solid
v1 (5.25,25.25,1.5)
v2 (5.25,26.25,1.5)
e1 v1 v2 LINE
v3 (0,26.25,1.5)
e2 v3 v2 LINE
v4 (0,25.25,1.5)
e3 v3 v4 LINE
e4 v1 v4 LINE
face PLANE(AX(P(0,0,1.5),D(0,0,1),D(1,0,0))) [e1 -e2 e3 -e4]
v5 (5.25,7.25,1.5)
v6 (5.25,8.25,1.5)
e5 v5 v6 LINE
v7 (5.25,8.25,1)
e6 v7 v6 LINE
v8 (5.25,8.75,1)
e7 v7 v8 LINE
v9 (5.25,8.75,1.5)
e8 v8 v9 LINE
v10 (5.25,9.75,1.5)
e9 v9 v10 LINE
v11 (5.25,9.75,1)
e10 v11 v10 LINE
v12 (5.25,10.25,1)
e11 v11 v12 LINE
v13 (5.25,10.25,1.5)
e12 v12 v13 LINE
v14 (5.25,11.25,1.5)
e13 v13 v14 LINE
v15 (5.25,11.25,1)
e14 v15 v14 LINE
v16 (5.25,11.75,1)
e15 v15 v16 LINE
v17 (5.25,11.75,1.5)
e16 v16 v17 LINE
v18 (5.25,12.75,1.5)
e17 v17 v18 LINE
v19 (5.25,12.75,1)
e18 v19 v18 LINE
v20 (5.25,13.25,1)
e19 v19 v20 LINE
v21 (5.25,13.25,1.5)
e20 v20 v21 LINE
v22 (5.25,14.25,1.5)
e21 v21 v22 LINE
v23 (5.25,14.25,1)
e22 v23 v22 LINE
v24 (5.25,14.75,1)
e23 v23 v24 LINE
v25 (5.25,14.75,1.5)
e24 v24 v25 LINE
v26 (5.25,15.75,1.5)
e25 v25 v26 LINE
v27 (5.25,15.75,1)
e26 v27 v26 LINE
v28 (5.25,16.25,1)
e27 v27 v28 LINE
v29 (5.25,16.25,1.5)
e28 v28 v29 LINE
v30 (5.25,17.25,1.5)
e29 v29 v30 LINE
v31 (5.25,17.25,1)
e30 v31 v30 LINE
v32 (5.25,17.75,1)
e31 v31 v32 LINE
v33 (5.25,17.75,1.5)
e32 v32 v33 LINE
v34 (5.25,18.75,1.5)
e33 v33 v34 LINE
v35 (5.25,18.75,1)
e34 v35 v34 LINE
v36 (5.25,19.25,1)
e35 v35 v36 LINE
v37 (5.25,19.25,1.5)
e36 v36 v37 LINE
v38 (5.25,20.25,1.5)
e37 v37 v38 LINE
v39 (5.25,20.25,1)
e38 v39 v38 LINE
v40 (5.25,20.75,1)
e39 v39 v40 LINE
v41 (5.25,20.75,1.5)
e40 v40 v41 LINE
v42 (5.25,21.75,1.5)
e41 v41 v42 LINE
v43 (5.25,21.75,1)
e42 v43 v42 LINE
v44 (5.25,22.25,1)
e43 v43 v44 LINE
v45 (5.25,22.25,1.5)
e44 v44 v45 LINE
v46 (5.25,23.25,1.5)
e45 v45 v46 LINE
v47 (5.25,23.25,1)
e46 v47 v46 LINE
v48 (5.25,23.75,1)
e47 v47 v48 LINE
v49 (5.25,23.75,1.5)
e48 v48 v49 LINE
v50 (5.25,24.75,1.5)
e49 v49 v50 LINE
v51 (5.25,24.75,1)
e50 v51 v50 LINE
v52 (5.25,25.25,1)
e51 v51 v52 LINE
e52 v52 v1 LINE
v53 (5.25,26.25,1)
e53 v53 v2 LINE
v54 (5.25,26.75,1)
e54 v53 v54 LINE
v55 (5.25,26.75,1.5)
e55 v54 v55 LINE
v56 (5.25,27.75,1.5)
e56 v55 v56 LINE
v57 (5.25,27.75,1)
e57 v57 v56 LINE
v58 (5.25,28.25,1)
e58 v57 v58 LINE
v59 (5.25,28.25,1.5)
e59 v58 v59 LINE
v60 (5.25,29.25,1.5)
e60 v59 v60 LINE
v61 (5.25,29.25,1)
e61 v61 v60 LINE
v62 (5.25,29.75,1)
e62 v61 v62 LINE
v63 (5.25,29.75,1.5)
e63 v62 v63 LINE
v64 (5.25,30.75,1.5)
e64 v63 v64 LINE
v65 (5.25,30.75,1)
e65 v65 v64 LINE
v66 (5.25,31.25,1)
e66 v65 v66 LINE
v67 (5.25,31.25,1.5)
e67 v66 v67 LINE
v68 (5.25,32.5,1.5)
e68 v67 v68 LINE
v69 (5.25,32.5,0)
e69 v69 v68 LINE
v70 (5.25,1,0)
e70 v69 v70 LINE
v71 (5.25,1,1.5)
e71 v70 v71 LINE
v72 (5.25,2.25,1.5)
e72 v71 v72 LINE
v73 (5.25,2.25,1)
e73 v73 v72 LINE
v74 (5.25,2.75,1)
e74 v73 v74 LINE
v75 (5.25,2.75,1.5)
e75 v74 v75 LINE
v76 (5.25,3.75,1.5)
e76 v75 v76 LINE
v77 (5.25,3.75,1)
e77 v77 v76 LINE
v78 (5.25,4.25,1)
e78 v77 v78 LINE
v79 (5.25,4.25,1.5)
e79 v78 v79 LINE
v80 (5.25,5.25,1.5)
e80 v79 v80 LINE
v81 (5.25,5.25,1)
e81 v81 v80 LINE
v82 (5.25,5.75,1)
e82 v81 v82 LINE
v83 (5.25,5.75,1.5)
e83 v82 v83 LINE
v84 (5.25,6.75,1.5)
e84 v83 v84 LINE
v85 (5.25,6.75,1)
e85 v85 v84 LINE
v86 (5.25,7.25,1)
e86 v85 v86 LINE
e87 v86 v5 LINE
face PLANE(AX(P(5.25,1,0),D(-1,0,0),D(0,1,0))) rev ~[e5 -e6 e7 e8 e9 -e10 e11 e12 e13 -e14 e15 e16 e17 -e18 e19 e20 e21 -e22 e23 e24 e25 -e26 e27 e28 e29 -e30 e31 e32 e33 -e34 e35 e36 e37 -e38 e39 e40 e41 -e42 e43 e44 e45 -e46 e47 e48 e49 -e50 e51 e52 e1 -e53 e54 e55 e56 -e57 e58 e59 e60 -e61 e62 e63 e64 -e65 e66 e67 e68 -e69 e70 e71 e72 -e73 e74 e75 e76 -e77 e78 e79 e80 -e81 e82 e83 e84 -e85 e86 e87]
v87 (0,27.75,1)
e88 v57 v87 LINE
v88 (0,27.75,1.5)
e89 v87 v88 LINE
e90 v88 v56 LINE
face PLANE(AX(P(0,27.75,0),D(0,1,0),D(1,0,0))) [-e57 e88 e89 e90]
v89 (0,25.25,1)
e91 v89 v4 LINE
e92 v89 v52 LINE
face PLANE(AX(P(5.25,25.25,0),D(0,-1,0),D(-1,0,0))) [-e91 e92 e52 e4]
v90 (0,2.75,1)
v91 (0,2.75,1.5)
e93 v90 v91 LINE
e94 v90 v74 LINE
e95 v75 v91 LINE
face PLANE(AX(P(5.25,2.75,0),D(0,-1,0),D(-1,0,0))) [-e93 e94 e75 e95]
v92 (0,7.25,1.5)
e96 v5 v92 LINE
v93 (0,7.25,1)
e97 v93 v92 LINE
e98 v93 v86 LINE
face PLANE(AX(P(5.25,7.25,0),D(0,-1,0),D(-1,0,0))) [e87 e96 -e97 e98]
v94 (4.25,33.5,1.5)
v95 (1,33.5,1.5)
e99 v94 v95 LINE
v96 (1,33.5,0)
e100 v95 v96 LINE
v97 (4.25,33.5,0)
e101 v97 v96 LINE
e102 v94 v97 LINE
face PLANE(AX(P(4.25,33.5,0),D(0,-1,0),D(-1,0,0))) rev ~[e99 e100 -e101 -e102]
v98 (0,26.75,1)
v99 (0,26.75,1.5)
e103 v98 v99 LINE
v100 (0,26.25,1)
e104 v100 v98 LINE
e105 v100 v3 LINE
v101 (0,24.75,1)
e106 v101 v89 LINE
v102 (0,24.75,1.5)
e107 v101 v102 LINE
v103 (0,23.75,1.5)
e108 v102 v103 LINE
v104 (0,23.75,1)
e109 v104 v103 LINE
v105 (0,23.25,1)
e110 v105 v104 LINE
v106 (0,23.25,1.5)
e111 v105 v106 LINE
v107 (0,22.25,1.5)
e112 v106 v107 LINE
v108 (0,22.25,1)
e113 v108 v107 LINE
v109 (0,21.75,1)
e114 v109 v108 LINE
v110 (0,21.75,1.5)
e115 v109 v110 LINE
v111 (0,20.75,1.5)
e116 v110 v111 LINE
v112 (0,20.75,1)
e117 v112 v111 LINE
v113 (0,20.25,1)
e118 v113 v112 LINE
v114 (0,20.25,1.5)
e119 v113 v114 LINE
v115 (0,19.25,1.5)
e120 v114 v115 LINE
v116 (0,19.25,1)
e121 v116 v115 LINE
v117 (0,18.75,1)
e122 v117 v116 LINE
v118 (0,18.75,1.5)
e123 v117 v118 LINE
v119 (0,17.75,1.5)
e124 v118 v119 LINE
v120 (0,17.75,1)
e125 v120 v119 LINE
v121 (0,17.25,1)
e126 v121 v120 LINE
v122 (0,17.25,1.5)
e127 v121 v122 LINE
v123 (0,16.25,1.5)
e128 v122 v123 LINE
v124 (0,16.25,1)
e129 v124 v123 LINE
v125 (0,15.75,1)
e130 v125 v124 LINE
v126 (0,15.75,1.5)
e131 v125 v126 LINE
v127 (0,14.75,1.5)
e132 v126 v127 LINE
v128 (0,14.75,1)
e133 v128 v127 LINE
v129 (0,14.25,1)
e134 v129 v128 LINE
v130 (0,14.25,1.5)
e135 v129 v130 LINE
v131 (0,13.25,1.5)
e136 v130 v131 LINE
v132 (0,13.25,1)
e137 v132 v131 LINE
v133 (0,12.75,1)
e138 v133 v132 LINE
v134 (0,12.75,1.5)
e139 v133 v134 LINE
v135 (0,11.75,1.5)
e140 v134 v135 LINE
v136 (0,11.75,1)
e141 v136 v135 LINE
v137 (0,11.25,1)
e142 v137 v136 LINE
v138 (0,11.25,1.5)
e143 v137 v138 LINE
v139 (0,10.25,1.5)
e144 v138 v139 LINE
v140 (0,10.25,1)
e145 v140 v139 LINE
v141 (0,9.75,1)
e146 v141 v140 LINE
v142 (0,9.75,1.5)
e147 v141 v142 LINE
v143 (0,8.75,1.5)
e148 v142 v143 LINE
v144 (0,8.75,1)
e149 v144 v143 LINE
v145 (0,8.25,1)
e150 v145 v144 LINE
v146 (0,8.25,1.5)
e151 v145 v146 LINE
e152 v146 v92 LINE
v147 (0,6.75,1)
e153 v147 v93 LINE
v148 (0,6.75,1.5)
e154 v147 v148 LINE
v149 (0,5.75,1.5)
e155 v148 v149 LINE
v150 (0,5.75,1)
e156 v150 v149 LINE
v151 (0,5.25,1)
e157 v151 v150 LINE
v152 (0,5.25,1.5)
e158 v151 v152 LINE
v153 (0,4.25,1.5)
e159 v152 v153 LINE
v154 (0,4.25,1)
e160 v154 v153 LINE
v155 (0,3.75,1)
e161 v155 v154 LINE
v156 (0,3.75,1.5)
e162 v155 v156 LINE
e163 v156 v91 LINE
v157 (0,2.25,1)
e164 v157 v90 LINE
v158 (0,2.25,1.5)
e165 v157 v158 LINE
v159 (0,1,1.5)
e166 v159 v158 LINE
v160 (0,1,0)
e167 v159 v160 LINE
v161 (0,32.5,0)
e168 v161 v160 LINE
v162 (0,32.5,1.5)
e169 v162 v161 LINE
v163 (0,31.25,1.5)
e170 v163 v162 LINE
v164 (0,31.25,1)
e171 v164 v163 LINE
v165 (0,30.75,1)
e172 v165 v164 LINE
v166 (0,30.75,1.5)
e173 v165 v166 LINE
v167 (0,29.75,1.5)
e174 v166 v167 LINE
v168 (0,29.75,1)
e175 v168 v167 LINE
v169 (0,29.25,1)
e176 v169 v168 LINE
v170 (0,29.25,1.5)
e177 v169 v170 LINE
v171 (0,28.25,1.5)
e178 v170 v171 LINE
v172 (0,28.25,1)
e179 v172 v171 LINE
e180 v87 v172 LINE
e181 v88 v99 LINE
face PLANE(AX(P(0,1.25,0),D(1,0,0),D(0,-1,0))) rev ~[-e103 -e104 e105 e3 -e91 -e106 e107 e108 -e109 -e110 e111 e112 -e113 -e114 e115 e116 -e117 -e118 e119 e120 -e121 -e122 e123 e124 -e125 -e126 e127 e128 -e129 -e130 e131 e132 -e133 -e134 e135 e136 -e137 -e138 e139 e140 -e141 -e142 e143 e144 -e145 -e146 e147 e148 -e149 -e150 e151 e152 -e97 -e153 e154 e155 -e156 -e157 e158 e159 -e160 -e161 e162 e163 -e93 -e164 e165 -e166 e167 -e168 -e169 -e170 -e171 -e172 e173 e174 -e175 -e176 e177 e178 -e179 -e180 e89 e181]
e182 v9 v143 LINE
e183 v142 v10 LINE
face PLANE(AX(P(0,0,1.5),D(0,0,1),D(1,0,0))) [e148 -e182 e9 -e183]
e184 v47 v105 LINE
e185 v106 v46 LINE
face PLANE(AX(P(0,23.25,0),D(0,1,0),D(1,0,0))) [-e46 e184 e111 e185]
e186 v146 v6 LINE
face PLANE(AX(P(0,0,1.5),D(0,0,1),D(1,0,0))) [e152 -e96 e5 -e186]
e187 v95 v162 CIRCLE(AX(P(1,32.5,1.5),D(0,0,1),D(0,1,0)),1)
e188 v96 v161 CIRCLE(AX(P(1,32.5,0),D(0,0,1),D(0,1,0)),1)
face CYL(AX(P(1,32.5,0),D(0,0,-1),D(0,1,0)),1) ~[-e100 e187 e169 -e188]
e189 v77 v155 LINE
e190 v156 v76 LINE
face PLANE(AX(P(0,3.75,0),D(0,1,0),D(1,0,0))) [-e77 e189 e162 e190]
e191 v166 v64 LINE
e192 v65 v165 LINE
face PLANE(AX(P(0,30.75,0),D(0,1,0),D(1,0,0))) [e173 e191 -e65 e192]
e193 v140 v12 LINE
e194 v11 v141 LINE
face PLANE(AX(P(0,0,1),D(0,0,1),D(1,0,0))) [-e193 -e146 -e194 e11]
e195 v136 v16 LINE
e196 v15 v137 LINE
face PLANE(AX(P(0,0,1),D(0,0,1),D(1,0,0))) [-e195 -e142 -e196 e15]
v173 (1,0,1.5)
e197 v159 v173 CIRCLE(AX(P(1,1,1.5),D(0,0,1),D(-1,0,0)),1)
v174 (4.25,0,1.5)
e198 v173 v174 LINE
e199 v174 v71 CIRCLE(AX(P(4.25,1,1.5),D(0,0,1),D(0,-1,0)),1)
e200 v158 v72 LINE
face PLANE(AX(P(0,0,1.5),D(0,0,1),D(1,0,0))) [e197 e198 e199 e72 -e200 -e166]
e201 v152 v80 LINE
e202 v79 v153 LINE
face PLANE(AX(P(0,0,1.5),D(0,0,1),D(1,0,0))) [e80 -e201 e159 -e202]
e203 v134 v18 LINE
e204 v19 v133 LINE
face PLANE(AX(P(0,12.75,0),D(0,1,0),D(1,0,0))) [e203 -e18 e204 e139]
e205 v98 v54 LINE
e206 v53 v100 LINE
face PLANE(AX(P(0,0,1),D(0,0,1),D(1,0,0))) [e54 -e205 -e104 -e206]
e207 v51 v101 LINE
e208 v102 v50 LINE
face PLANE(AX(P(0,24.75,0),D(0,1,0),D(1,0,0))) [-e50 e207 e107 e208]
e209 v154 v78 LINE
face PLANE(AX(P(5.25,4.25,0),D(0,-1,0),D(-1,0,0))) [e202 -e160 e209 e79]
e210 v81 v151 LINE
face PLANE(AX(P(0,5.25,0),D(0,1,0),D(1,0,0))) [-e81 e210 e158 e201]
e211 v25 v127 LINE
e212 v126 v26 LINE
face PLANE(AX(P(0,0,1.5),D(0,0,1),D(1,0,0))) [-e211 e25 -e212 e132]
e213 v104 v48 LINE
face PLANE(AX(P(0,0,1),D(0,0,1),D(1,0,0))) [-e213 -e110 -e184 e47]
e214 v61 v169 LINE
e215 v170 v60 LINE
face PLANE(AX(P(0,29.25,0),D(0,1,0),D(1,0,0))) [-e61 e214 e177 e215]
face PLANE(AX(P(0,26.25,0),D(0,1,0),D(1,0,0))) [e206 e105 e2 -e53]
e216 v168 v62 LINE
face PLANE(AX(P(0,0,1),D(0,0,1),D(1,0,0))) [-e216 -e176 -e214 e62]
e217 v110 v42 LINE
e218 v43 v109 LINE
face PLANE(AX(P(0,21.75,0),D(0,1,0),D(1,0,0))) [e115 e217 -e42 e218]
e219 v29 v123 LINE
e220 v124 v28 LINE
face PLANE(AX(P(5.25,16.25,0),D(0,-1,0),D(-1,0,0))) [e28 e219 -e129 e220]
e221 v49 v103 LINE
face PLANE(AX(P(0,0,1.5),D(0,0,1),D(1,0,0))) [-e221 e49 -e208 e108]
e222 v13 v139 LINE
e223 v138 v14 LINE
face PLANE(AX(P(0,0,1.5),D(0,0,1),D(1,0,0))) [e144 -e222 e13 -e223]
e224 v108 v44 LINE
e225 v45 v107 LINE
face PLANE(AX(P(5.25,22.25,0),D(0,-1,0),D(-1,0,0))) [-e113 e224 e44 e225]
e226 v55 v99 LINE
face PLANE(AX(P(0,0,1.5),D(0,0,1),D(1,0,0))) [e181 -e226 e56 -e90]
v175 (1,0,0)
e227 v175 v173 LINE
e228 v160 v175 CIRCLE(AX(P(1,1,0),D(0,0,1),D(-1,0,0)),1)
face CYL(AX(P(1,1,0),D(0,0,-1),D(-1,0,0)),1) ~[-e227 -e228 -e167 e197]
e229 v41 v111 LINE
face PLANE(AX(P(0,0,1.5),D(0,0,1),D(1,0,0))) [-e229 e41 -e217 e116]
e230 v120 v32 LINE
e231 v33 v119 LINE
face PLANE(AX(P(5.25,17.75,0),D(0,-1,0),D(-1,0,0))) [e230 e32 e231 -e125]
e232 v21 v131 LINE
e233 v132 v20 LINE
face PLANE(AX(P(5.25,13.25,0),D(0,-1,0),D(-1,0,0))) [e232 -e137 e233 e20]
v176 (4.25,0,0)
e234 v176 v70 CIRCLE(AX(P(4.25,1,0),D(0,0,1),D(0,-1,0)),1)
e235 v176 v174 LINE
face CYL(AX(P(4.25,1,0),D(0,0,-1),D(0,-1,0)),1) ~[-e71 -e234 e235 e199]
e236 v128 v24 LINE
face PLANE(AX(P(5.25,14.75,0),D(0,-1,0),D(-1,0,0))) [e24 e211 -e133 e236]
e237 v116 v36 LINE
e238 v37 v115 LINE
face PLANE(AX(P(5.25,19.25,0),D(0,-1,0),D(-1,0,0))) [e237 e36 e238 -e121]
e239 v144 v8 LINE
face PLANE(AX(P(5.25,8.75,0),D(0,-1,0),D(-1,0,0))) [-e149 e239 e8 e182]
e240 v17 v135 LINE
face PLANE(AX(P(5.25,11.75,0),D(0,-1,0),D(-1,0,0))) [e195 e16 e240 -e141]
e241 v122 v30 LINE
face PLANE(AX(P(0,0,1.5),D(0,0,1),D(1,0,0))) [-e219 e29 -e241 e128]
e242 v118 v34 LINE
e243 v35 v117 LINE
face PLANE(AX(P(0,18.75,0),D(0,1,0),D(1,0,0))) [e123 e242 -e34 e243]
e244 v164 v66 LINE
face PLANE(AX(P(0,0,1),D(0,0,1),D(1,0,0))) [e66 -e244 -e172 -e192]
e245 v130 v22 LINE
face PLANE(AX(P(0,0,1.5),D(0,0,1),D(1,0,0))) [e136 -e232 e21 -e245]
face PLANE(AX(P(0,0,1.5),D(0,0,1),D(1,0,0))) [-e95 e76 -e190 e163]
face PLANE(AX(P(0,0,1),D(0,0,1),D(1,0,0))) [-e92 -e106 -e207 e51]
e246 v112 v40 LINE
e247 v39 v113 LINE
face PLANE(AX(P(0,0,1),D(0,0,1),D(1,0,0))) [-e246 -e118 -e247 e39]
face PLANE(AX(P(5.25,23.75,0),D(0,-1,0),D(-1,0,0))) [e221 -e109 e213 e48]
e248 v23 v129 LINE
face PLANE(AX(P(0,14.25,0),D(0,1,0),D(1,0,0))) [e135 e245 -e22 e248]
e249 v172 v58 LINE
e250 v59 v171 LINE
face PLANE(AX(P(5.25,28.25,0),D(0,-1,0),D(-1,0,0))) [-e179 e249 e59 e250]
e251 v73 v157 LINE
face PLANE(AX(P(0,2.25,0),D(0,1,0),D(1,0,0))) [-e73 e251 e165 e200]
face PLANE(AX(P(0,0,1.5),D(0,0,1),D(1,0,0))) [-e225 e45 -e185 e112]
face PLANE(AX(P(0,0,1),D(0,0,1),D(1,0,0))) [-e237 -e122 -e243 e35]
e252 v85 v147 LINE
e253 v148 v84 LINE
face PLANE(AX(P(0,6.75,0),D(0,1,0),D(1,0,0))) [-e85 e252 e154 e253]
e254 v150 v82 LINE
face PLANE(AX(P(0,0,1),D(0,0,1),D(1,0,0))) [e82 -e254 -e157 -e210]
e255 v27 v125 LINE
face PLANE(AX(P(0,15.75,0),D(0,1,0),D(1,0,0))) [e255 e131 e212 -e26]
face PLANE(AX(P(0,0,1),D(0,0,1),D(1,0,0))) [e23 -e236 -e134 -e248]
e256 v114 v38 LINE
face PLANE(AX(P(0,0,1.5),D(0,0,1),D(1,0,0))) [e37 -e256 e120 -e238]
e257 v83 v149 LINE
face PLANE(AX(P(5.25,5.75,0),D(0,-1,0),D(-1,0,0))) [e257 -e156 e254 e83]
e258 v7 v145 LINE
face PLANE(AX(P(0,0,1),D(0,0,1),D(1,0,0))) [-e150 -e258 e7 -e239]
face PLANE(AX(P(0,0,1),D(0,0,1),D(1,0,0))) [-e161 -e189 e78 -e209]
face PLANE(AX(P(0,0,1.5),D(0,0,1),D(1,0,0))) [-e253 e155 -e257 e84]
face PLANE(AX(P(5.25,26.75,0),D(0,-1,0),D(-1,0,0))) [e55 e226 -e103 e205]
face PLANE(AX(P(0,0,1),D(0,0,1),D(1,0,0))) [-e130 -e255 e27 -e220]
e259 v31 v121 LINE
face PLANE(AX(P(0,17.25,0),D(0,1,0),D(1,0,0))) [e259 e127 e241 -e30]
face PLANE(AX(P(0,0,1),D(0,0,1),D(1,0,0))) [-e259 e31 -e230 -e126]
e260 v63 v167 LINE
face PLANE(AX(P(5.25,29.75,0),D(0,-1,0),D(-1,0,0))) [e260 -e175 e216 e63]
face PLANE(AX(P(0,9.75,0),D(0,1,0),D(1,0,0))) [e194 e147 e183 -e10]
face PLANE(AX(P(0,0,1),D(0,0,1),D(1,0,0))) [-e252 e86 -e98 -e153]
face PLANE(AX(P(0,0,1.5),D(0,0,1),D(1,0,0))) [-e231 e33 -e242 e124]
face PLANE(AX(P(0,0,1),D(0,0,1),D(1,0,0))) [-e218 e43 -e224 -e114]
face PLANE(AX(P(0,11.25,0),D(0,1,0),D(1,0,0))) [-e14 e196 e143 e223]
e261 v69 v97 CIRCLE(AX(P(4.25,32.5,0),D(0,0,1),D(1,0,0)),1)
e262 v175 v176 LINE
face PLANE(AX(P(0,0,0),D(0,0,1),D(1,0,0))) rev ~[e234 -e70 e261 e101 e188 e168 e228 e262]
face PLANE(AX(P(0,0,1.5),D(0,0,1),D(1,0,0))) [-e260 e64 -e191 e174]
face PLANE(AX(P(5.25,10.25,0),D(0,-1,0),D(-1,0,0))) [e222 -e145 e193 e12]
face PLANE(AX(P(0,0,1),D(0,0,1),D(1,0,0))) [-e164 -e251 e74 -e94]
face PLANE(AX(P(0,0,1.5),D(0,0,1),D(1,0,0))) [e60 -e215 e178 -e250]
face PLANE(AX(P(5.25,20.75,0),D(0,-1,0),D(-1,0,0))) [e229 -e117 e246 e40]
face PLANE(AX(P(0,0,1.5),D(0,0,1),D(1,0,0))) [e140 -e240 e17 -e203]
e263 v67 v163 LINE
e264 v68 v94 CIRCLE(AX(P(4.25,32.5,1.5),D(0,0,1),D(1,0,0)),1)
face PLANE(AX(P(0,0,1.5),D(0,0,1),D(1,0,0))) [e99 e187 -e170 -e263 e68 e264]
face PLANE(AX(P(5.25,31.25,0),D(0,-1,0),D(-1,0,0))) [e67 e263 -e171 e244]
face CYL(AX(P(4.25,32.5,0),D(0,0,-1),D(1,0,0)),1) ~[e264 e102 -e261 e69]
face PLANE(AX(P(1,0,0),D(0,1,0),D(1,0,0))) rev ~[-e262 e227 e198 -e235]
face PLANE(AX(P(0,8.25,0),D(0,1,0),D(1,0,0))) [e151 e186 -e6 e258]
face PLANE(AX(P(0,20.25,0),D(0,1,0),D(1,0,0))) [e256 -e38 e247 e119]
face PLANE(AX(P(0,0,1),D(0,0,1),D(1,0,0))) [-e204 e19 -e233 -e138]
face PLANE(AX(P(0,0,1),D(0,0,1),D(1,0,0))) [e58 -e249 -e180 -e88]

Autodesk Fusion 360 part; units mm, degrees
sketch "Sketch1" plane through (0, 0, 0) normal (0, 0, 1) x (1, 0, 0)
  line L0 (1, 0) -> (4.25, 0)
  line L1 (5.25, 1) -> (5.25, 32.5)
  line L2 (4.25, 33.5) -> (1, 33.5)
  line L3 (0, 32.5) -> (0, 1)
  arc A0 (1, 33.5) -> (0, 32.5) centre (1, 32.5) ccw
  arc A1 (5.25, 32.5) -> (4.25, 33.5) centre (4.25, 32.5) ccw
  arc A2 (4.25, 0) -> (5.25, 1) centre (4.25, 1) ccw
  arc A3 (0, 1) -> (1, 0) centre (1, 1) ccw
  line L4 (0, 1) -> (5.25, 1) construction
  line L5 (0, 32.5) -> (5.25, 32.5) construction
  line L6 (2.625, 32.5) -> (2.625, 1) construction
  line L7 (0, 32.25) -> (5.25, 32.25)
  line L8 (5.25, 32.25) -> (5.25, 31.25)
  line L9 (5.25, 31.25) -> (0, 31.25)
  line L10 (0, 31.25) -> (0, 32.25)
  line L11 (2.625, 32.5) -> (2.625, 32.25) construction
  line L12 (2.625, 1) -> (2.625, 1.42) construction
  line L13 (2.625, 31.25) -> (2.625, 30.75) construction
  line L14 (5.25, 25.25) -> (0, 25.25)
  line L15 (0, 25.25) -> (0, 26.25)
  line L16 (5.25, 26.25) -> (5.25, 25.25)
  line L17 (2.625, 25.25) -> (2.625, 24.75) construction
  line L18 (0, 26.25) -> (5.25, 26.25)
  line L19 (0, 16.25) -> (0, 17.25)
  line L20 (5.25, 17.25) -> (5.25, 16.25)
  line L21 (0, 17.25) -> (5.25, 17.25)
  line L22 (2.625, 16.25) -> (2.625, 15.75) construction
  line L23 (5.25, 16.25) -> (0, 16.25)
  line L24 (0, 7.25) -> (0, 8.25)
  line L25 (5.25, 8.25) -> (5.25, 7.25)
  line L26 (0, 8.25) -> (5.25, 8.25)
  line L27 (2.625, 7.25) -> (2.625, 6.75) construction
  line L28 (5.25, 7.25) -> (0, 7.25)
  line L29 (0, 26.75) -> (0, 27.75)
  line L30 (5.25, 27.75) -> (5.25, 26.75)
  line L31 (0, 27.75) -> (5.25, 27.75)
  line L32 (2.625, 26.75) -> (2.625, 26.25) construction
  line L33 (5.25, 26.75) -> (0, 26.75)
  line L34 (0, 22.25) -> (0, 23.25)
  line L35 (5.25, 23.25) -> (5.25, 22.25)
  line L36 (0, 23.25) -> (5.25, 23.25)
  line L37 (2.625, 22.25) -> (2.625, 21.75) construction
  line L38 (5.25, 22.25) -> (0, 22.25)
  line L39 (0, 28.25) -> (0, 29.25)
  line L40 (5.25, 29.25) -> (5.25, 28.25)
  line L41 (0, 29.25) -> (5.25, 29.25)
  line L42 (2.625, 28.25) -> (2.625, 27.75) construction
  line L43 (5.25, 28.25) -> (0, 28.25)
  line L44 (0, 13.25) -> (0, 14.25)
  line L45 (5.25, 14.25) -> (5.25, 13.25)
  line L46 (0, 14.25) -> (5.25, 14.25)
  line L47 (2.625, 13.25) -> (2.625, 12.75) construction
  line L48 (5.25, 13.25) -> (0, 13.25)
  line L49 (0, 10.25) -> (0, 11.25)
  line L50 (5.25, 11.25) -> (5.25, 10.25)
  line L51 (0, 11.25) -> (5.25, 11.25)
  line L52 (2.625, 10.25) -> (2.625, 9.75) construction
  line L53 (5.25, 10.25) -> (0, 10.25)
  line L54 (0, 11.75) -> (0, 12.75)
  line L55 (5.25, 12.75) -> (5.25, 11.75)
  line L56 (0, 12.75) -> (5.25, 12.75)
  line L57 (2.625, 11.75) -> (2.625, 11.25) construction
  line L58 (5.25, 11.75) -> (0, 11.75)
  line L59 (0, 5.75) -> (0, 6.75)
  line L60 (5.25, 6.75) -> (5.25, 5.75)
  line L61 (0, 6.75) -> (5.25, 6.75)
  line L62 (2.625, 5.75) -> (2.625, 5.25) construction
  line L63 (5.25, 5.75) -> (0, 5.75)
  line L64 (0, 17.75) -> (0, 18.75)
  line L65 (5.25, 18.75) -> (5.25, 17.75)
  line L66 (0, 18.75) -> (5.25, 18.75)
  line L67 (2.625, 17.75) -> (2.625, 17.25) construction
  line L68 (5.25, 17.75) -> (0, 17.75)
  line L69 (0, 8.75) -> (0, 9.75)
  line L70 (5.25, 9.75) -> (5.25, 8.75)
  line L71 (0, 9.75) -> (5.25, 9.75)
  line L72 (2.625, 8.75) -> (2.625, 8.25) construction
  line L73 (5.25, 8.75) -> (0, 8.75)
  line L74 (0, 29.75) -> (0, 30.75)
  line L75 (5.25, 30.75) -> (5.25, 29.75)
  line L76 (0, 30.75) -> (5.25, 30.75)
  line L77 (2.625, 29.75) -> (2.625, 29.25) construction
  line L78 (5.25, 29.75) -> (0, 29.75)
  line L79 (0, 14.75) -> (0, 15.75)
  line L80 (5.25, 15.75) -> (5.25, 14.75)
  line L81 (0, 15.75) -> (5.25, 15.75)
  line L82 (2.625, 14.75) -> (2.625, 14.25) construction
  line L83 (5.25, 14.75) -> (0, 14.75)
  line L84 (0, 19.25) -> (0, 20.25)
  line L85 (5.25, 20.25) -> (5.25, 19.25)
  line L86 (0, 20.25) -> (5.25, 20.25)
  line L87 (2.625, 19.25) -> (2.625, 18.75) construction
  line L88 (5.25, 19.25) -> (0, 19.25)
  line L89 (0, 23.75) -> (0, 24.75)
  line L90 (5.25, 24.75) -> (5.25, 23.75)
  line L91 (0, 24.75) -> (5.25, 24.75)
  line L92 (2.625, 23.75) -> (2.625, 23.25) construction
  line L93 (5.25, 23.75) -> (0, 23.75)
  line L94 (0, 20.75) -> (0, 21.75)
  line L95 (5.25, 21.75) -> (5.25, 20.75)
  line L96 (0, 21.75) -> (5.25, 21.75)
  line L97 (2.625, 20.75) -> (2.625, 20.25) construction
  line L98 (5.25, 20.75) -> (0, 20.75)
  line L99 (0, 4.25) -> (0, 5.25)
  line L100 (5.25, 5.25) -> (5.25, 4.25)
  line L101 (0, 5.25) -> (5.25, 5.25)
  line L102 (2.625, 4.25) -> (2.625, 3.75) construction
  line L103 (5.25, 4.25) -> (0, 4.25)
  line L104 (0, 2.25) -> (5.25, 2.25)
  line L105 (0, 1.25) -> (0, 2.25)
  line L106 (5.25, 1.25) -> (0, 1.25)
  line L107 (2.625, 1.25) -> (2.625, 0.75) construction
  line L108 (5.25, 2.25) -> (5.25, 1.25)
  line L109 (5.25, 2.75) -> (0, 2.75)
  line L110 (5.25, 3.75) -> (5.25, 2.75)
  line L111 (0, 3.75) -> (5.25, 3.75)
  line L112 (2.625, 2.75) -> (2.625, 2.25) construction
  line L113 (0, 2.75) -> (0, 3.75)
  line L114 (2.625, 0) -> (7.625, 0) construction
  line L115 (2.625, 33.5) -> (7.625, 33.5) construction
  line L116 (7.625, 33.5) -> (7.625, 0) construction
  line L117 (7.625, 16.75) -> (5.25, 16.75) construction
  line L118 (5.25, 16.75) -> (2.625, 16.75) construction
  point P0 (5.25, 0)
  point P1 (0, 33.5)
  dimension "d1" = 5.25
  dimension "d2" = 33.5
  dimension "d3" = 1
  dimension "d4" = 1
  dimension "d5" = 5.25
  dimension "d6" = 0.25
  dimension "d7" = 0.42
  dimension "d8" = 0.5
  dimension "d9" = 1
  dimension "d10" = 5.25
  dimension "d11" = 0.5
  dimension "d12" = 1
  dimension "d13" = 5.25
  dimension "d14" = 0.5
  dimension "d15" = 1
  dimension "d16" = 5.25
  dimension "d17" = 0.5
  dimension "d18" = 1
  dimension "d19" = 5.25
  dimension "d20" = 0.5
  dimension "d21" = 1
  dimension "d22" = 5.25
  dimension "d23" = 0.5
  dimension "d24" = 1
  dimension "d25" = 5.25
  dimension "d26" = 0.5
  dimension "d27" = 1
  dimension "d28" = 5.25
  dimension "d29" = 0.5
  dimension "d30" = 1
  dimension "d31" = 5.25
  dimension "d32" = 0.5
  dimension "d33" = 1
  dimension "d34" = 5.25
  dimension "d35" = 0.5
  dimension "d36" = 1
  dimension "d37" = 5.25
  dimension "d38" = 0.5
  dimension "d39" = 1
  dimension "d40" = 5.25
  dimension "d41" = 0.5
  dimension "d42" = 1
  dimension "d43" = 5.25
  dimension "d44" = 0.5
  dimension "d45" = 1
  dimension "d46" = 5.25
  dimension "d47" = 0.5
  dimension "d48" = 1
  dimension "d49" = 5.25
  dimension "d50" = 0.5
  dimension "d51" = 1
  dimension "d52" = 5.25
  dimension "d53" = 0.5
  dimension "d54" = 1
  dimension "d55" = 5.25
  dimension "d56" = 0.5
  dimension "d57" = 1
  dimension "d58" = 5.25
  dimension "d59" = 0.5
  dimension "d60" = 1
  dimension "d61" = 5.25
  dimension "d62" = 0.5
  dimension "d63" = 1
  dimension "d64" = 5.25
  dimension "d65" = 0.5
  dimension "d72" = 1
  dimension "d73" = 5.25
  dimension "d74" = 0.5
  dimension "d79" = 5
  dimension "d80" = 5
extrude "Extrude1" add sketch "Sketch1" along normal blind 1
extrude "Extrude2" add sketch "Sketch1" along normal blind 1.5 contours L0 L1 L3 A2 A3 L106 | L1 L3 L104 L105 L106 L108 | L1 L3 L109 L110 L111 L113 | L1 L3 L99 L100 L101 L103 | L1 L3 L59 L60 L61 L63 | L1 L3 L24 L25 L26 L28 | L1 L3 L69 L70 L71 L73 | L1 L3 L49 L50 L51 L53 | L1 L3 L54 L55 L56 L58 | L1 L3 L44 L45 L46 L48 | L1 L3 L79 L80 L81 L83 | L1 L3 L19 L20 L21 L23 | L1 L3 L64 L65 L66 L68 | L1 L3 L84 L85 L86 L88 | L1 L3 L94 L95 L96 L98 | L1 L3 L34 L35 L36 L38 | L1 L3 L89 L90 L91 L93 | L1 L3 L14 L15 L16 L18 | L1 L3 L29 L30 L31 L33 | L1 L3 L39 L40 L41 L43 | L1 L3 L74 L75 L76 L78 | L1 L3 L7 L8 L9 L10 | L1 L2 L3 A0 A1 L7
